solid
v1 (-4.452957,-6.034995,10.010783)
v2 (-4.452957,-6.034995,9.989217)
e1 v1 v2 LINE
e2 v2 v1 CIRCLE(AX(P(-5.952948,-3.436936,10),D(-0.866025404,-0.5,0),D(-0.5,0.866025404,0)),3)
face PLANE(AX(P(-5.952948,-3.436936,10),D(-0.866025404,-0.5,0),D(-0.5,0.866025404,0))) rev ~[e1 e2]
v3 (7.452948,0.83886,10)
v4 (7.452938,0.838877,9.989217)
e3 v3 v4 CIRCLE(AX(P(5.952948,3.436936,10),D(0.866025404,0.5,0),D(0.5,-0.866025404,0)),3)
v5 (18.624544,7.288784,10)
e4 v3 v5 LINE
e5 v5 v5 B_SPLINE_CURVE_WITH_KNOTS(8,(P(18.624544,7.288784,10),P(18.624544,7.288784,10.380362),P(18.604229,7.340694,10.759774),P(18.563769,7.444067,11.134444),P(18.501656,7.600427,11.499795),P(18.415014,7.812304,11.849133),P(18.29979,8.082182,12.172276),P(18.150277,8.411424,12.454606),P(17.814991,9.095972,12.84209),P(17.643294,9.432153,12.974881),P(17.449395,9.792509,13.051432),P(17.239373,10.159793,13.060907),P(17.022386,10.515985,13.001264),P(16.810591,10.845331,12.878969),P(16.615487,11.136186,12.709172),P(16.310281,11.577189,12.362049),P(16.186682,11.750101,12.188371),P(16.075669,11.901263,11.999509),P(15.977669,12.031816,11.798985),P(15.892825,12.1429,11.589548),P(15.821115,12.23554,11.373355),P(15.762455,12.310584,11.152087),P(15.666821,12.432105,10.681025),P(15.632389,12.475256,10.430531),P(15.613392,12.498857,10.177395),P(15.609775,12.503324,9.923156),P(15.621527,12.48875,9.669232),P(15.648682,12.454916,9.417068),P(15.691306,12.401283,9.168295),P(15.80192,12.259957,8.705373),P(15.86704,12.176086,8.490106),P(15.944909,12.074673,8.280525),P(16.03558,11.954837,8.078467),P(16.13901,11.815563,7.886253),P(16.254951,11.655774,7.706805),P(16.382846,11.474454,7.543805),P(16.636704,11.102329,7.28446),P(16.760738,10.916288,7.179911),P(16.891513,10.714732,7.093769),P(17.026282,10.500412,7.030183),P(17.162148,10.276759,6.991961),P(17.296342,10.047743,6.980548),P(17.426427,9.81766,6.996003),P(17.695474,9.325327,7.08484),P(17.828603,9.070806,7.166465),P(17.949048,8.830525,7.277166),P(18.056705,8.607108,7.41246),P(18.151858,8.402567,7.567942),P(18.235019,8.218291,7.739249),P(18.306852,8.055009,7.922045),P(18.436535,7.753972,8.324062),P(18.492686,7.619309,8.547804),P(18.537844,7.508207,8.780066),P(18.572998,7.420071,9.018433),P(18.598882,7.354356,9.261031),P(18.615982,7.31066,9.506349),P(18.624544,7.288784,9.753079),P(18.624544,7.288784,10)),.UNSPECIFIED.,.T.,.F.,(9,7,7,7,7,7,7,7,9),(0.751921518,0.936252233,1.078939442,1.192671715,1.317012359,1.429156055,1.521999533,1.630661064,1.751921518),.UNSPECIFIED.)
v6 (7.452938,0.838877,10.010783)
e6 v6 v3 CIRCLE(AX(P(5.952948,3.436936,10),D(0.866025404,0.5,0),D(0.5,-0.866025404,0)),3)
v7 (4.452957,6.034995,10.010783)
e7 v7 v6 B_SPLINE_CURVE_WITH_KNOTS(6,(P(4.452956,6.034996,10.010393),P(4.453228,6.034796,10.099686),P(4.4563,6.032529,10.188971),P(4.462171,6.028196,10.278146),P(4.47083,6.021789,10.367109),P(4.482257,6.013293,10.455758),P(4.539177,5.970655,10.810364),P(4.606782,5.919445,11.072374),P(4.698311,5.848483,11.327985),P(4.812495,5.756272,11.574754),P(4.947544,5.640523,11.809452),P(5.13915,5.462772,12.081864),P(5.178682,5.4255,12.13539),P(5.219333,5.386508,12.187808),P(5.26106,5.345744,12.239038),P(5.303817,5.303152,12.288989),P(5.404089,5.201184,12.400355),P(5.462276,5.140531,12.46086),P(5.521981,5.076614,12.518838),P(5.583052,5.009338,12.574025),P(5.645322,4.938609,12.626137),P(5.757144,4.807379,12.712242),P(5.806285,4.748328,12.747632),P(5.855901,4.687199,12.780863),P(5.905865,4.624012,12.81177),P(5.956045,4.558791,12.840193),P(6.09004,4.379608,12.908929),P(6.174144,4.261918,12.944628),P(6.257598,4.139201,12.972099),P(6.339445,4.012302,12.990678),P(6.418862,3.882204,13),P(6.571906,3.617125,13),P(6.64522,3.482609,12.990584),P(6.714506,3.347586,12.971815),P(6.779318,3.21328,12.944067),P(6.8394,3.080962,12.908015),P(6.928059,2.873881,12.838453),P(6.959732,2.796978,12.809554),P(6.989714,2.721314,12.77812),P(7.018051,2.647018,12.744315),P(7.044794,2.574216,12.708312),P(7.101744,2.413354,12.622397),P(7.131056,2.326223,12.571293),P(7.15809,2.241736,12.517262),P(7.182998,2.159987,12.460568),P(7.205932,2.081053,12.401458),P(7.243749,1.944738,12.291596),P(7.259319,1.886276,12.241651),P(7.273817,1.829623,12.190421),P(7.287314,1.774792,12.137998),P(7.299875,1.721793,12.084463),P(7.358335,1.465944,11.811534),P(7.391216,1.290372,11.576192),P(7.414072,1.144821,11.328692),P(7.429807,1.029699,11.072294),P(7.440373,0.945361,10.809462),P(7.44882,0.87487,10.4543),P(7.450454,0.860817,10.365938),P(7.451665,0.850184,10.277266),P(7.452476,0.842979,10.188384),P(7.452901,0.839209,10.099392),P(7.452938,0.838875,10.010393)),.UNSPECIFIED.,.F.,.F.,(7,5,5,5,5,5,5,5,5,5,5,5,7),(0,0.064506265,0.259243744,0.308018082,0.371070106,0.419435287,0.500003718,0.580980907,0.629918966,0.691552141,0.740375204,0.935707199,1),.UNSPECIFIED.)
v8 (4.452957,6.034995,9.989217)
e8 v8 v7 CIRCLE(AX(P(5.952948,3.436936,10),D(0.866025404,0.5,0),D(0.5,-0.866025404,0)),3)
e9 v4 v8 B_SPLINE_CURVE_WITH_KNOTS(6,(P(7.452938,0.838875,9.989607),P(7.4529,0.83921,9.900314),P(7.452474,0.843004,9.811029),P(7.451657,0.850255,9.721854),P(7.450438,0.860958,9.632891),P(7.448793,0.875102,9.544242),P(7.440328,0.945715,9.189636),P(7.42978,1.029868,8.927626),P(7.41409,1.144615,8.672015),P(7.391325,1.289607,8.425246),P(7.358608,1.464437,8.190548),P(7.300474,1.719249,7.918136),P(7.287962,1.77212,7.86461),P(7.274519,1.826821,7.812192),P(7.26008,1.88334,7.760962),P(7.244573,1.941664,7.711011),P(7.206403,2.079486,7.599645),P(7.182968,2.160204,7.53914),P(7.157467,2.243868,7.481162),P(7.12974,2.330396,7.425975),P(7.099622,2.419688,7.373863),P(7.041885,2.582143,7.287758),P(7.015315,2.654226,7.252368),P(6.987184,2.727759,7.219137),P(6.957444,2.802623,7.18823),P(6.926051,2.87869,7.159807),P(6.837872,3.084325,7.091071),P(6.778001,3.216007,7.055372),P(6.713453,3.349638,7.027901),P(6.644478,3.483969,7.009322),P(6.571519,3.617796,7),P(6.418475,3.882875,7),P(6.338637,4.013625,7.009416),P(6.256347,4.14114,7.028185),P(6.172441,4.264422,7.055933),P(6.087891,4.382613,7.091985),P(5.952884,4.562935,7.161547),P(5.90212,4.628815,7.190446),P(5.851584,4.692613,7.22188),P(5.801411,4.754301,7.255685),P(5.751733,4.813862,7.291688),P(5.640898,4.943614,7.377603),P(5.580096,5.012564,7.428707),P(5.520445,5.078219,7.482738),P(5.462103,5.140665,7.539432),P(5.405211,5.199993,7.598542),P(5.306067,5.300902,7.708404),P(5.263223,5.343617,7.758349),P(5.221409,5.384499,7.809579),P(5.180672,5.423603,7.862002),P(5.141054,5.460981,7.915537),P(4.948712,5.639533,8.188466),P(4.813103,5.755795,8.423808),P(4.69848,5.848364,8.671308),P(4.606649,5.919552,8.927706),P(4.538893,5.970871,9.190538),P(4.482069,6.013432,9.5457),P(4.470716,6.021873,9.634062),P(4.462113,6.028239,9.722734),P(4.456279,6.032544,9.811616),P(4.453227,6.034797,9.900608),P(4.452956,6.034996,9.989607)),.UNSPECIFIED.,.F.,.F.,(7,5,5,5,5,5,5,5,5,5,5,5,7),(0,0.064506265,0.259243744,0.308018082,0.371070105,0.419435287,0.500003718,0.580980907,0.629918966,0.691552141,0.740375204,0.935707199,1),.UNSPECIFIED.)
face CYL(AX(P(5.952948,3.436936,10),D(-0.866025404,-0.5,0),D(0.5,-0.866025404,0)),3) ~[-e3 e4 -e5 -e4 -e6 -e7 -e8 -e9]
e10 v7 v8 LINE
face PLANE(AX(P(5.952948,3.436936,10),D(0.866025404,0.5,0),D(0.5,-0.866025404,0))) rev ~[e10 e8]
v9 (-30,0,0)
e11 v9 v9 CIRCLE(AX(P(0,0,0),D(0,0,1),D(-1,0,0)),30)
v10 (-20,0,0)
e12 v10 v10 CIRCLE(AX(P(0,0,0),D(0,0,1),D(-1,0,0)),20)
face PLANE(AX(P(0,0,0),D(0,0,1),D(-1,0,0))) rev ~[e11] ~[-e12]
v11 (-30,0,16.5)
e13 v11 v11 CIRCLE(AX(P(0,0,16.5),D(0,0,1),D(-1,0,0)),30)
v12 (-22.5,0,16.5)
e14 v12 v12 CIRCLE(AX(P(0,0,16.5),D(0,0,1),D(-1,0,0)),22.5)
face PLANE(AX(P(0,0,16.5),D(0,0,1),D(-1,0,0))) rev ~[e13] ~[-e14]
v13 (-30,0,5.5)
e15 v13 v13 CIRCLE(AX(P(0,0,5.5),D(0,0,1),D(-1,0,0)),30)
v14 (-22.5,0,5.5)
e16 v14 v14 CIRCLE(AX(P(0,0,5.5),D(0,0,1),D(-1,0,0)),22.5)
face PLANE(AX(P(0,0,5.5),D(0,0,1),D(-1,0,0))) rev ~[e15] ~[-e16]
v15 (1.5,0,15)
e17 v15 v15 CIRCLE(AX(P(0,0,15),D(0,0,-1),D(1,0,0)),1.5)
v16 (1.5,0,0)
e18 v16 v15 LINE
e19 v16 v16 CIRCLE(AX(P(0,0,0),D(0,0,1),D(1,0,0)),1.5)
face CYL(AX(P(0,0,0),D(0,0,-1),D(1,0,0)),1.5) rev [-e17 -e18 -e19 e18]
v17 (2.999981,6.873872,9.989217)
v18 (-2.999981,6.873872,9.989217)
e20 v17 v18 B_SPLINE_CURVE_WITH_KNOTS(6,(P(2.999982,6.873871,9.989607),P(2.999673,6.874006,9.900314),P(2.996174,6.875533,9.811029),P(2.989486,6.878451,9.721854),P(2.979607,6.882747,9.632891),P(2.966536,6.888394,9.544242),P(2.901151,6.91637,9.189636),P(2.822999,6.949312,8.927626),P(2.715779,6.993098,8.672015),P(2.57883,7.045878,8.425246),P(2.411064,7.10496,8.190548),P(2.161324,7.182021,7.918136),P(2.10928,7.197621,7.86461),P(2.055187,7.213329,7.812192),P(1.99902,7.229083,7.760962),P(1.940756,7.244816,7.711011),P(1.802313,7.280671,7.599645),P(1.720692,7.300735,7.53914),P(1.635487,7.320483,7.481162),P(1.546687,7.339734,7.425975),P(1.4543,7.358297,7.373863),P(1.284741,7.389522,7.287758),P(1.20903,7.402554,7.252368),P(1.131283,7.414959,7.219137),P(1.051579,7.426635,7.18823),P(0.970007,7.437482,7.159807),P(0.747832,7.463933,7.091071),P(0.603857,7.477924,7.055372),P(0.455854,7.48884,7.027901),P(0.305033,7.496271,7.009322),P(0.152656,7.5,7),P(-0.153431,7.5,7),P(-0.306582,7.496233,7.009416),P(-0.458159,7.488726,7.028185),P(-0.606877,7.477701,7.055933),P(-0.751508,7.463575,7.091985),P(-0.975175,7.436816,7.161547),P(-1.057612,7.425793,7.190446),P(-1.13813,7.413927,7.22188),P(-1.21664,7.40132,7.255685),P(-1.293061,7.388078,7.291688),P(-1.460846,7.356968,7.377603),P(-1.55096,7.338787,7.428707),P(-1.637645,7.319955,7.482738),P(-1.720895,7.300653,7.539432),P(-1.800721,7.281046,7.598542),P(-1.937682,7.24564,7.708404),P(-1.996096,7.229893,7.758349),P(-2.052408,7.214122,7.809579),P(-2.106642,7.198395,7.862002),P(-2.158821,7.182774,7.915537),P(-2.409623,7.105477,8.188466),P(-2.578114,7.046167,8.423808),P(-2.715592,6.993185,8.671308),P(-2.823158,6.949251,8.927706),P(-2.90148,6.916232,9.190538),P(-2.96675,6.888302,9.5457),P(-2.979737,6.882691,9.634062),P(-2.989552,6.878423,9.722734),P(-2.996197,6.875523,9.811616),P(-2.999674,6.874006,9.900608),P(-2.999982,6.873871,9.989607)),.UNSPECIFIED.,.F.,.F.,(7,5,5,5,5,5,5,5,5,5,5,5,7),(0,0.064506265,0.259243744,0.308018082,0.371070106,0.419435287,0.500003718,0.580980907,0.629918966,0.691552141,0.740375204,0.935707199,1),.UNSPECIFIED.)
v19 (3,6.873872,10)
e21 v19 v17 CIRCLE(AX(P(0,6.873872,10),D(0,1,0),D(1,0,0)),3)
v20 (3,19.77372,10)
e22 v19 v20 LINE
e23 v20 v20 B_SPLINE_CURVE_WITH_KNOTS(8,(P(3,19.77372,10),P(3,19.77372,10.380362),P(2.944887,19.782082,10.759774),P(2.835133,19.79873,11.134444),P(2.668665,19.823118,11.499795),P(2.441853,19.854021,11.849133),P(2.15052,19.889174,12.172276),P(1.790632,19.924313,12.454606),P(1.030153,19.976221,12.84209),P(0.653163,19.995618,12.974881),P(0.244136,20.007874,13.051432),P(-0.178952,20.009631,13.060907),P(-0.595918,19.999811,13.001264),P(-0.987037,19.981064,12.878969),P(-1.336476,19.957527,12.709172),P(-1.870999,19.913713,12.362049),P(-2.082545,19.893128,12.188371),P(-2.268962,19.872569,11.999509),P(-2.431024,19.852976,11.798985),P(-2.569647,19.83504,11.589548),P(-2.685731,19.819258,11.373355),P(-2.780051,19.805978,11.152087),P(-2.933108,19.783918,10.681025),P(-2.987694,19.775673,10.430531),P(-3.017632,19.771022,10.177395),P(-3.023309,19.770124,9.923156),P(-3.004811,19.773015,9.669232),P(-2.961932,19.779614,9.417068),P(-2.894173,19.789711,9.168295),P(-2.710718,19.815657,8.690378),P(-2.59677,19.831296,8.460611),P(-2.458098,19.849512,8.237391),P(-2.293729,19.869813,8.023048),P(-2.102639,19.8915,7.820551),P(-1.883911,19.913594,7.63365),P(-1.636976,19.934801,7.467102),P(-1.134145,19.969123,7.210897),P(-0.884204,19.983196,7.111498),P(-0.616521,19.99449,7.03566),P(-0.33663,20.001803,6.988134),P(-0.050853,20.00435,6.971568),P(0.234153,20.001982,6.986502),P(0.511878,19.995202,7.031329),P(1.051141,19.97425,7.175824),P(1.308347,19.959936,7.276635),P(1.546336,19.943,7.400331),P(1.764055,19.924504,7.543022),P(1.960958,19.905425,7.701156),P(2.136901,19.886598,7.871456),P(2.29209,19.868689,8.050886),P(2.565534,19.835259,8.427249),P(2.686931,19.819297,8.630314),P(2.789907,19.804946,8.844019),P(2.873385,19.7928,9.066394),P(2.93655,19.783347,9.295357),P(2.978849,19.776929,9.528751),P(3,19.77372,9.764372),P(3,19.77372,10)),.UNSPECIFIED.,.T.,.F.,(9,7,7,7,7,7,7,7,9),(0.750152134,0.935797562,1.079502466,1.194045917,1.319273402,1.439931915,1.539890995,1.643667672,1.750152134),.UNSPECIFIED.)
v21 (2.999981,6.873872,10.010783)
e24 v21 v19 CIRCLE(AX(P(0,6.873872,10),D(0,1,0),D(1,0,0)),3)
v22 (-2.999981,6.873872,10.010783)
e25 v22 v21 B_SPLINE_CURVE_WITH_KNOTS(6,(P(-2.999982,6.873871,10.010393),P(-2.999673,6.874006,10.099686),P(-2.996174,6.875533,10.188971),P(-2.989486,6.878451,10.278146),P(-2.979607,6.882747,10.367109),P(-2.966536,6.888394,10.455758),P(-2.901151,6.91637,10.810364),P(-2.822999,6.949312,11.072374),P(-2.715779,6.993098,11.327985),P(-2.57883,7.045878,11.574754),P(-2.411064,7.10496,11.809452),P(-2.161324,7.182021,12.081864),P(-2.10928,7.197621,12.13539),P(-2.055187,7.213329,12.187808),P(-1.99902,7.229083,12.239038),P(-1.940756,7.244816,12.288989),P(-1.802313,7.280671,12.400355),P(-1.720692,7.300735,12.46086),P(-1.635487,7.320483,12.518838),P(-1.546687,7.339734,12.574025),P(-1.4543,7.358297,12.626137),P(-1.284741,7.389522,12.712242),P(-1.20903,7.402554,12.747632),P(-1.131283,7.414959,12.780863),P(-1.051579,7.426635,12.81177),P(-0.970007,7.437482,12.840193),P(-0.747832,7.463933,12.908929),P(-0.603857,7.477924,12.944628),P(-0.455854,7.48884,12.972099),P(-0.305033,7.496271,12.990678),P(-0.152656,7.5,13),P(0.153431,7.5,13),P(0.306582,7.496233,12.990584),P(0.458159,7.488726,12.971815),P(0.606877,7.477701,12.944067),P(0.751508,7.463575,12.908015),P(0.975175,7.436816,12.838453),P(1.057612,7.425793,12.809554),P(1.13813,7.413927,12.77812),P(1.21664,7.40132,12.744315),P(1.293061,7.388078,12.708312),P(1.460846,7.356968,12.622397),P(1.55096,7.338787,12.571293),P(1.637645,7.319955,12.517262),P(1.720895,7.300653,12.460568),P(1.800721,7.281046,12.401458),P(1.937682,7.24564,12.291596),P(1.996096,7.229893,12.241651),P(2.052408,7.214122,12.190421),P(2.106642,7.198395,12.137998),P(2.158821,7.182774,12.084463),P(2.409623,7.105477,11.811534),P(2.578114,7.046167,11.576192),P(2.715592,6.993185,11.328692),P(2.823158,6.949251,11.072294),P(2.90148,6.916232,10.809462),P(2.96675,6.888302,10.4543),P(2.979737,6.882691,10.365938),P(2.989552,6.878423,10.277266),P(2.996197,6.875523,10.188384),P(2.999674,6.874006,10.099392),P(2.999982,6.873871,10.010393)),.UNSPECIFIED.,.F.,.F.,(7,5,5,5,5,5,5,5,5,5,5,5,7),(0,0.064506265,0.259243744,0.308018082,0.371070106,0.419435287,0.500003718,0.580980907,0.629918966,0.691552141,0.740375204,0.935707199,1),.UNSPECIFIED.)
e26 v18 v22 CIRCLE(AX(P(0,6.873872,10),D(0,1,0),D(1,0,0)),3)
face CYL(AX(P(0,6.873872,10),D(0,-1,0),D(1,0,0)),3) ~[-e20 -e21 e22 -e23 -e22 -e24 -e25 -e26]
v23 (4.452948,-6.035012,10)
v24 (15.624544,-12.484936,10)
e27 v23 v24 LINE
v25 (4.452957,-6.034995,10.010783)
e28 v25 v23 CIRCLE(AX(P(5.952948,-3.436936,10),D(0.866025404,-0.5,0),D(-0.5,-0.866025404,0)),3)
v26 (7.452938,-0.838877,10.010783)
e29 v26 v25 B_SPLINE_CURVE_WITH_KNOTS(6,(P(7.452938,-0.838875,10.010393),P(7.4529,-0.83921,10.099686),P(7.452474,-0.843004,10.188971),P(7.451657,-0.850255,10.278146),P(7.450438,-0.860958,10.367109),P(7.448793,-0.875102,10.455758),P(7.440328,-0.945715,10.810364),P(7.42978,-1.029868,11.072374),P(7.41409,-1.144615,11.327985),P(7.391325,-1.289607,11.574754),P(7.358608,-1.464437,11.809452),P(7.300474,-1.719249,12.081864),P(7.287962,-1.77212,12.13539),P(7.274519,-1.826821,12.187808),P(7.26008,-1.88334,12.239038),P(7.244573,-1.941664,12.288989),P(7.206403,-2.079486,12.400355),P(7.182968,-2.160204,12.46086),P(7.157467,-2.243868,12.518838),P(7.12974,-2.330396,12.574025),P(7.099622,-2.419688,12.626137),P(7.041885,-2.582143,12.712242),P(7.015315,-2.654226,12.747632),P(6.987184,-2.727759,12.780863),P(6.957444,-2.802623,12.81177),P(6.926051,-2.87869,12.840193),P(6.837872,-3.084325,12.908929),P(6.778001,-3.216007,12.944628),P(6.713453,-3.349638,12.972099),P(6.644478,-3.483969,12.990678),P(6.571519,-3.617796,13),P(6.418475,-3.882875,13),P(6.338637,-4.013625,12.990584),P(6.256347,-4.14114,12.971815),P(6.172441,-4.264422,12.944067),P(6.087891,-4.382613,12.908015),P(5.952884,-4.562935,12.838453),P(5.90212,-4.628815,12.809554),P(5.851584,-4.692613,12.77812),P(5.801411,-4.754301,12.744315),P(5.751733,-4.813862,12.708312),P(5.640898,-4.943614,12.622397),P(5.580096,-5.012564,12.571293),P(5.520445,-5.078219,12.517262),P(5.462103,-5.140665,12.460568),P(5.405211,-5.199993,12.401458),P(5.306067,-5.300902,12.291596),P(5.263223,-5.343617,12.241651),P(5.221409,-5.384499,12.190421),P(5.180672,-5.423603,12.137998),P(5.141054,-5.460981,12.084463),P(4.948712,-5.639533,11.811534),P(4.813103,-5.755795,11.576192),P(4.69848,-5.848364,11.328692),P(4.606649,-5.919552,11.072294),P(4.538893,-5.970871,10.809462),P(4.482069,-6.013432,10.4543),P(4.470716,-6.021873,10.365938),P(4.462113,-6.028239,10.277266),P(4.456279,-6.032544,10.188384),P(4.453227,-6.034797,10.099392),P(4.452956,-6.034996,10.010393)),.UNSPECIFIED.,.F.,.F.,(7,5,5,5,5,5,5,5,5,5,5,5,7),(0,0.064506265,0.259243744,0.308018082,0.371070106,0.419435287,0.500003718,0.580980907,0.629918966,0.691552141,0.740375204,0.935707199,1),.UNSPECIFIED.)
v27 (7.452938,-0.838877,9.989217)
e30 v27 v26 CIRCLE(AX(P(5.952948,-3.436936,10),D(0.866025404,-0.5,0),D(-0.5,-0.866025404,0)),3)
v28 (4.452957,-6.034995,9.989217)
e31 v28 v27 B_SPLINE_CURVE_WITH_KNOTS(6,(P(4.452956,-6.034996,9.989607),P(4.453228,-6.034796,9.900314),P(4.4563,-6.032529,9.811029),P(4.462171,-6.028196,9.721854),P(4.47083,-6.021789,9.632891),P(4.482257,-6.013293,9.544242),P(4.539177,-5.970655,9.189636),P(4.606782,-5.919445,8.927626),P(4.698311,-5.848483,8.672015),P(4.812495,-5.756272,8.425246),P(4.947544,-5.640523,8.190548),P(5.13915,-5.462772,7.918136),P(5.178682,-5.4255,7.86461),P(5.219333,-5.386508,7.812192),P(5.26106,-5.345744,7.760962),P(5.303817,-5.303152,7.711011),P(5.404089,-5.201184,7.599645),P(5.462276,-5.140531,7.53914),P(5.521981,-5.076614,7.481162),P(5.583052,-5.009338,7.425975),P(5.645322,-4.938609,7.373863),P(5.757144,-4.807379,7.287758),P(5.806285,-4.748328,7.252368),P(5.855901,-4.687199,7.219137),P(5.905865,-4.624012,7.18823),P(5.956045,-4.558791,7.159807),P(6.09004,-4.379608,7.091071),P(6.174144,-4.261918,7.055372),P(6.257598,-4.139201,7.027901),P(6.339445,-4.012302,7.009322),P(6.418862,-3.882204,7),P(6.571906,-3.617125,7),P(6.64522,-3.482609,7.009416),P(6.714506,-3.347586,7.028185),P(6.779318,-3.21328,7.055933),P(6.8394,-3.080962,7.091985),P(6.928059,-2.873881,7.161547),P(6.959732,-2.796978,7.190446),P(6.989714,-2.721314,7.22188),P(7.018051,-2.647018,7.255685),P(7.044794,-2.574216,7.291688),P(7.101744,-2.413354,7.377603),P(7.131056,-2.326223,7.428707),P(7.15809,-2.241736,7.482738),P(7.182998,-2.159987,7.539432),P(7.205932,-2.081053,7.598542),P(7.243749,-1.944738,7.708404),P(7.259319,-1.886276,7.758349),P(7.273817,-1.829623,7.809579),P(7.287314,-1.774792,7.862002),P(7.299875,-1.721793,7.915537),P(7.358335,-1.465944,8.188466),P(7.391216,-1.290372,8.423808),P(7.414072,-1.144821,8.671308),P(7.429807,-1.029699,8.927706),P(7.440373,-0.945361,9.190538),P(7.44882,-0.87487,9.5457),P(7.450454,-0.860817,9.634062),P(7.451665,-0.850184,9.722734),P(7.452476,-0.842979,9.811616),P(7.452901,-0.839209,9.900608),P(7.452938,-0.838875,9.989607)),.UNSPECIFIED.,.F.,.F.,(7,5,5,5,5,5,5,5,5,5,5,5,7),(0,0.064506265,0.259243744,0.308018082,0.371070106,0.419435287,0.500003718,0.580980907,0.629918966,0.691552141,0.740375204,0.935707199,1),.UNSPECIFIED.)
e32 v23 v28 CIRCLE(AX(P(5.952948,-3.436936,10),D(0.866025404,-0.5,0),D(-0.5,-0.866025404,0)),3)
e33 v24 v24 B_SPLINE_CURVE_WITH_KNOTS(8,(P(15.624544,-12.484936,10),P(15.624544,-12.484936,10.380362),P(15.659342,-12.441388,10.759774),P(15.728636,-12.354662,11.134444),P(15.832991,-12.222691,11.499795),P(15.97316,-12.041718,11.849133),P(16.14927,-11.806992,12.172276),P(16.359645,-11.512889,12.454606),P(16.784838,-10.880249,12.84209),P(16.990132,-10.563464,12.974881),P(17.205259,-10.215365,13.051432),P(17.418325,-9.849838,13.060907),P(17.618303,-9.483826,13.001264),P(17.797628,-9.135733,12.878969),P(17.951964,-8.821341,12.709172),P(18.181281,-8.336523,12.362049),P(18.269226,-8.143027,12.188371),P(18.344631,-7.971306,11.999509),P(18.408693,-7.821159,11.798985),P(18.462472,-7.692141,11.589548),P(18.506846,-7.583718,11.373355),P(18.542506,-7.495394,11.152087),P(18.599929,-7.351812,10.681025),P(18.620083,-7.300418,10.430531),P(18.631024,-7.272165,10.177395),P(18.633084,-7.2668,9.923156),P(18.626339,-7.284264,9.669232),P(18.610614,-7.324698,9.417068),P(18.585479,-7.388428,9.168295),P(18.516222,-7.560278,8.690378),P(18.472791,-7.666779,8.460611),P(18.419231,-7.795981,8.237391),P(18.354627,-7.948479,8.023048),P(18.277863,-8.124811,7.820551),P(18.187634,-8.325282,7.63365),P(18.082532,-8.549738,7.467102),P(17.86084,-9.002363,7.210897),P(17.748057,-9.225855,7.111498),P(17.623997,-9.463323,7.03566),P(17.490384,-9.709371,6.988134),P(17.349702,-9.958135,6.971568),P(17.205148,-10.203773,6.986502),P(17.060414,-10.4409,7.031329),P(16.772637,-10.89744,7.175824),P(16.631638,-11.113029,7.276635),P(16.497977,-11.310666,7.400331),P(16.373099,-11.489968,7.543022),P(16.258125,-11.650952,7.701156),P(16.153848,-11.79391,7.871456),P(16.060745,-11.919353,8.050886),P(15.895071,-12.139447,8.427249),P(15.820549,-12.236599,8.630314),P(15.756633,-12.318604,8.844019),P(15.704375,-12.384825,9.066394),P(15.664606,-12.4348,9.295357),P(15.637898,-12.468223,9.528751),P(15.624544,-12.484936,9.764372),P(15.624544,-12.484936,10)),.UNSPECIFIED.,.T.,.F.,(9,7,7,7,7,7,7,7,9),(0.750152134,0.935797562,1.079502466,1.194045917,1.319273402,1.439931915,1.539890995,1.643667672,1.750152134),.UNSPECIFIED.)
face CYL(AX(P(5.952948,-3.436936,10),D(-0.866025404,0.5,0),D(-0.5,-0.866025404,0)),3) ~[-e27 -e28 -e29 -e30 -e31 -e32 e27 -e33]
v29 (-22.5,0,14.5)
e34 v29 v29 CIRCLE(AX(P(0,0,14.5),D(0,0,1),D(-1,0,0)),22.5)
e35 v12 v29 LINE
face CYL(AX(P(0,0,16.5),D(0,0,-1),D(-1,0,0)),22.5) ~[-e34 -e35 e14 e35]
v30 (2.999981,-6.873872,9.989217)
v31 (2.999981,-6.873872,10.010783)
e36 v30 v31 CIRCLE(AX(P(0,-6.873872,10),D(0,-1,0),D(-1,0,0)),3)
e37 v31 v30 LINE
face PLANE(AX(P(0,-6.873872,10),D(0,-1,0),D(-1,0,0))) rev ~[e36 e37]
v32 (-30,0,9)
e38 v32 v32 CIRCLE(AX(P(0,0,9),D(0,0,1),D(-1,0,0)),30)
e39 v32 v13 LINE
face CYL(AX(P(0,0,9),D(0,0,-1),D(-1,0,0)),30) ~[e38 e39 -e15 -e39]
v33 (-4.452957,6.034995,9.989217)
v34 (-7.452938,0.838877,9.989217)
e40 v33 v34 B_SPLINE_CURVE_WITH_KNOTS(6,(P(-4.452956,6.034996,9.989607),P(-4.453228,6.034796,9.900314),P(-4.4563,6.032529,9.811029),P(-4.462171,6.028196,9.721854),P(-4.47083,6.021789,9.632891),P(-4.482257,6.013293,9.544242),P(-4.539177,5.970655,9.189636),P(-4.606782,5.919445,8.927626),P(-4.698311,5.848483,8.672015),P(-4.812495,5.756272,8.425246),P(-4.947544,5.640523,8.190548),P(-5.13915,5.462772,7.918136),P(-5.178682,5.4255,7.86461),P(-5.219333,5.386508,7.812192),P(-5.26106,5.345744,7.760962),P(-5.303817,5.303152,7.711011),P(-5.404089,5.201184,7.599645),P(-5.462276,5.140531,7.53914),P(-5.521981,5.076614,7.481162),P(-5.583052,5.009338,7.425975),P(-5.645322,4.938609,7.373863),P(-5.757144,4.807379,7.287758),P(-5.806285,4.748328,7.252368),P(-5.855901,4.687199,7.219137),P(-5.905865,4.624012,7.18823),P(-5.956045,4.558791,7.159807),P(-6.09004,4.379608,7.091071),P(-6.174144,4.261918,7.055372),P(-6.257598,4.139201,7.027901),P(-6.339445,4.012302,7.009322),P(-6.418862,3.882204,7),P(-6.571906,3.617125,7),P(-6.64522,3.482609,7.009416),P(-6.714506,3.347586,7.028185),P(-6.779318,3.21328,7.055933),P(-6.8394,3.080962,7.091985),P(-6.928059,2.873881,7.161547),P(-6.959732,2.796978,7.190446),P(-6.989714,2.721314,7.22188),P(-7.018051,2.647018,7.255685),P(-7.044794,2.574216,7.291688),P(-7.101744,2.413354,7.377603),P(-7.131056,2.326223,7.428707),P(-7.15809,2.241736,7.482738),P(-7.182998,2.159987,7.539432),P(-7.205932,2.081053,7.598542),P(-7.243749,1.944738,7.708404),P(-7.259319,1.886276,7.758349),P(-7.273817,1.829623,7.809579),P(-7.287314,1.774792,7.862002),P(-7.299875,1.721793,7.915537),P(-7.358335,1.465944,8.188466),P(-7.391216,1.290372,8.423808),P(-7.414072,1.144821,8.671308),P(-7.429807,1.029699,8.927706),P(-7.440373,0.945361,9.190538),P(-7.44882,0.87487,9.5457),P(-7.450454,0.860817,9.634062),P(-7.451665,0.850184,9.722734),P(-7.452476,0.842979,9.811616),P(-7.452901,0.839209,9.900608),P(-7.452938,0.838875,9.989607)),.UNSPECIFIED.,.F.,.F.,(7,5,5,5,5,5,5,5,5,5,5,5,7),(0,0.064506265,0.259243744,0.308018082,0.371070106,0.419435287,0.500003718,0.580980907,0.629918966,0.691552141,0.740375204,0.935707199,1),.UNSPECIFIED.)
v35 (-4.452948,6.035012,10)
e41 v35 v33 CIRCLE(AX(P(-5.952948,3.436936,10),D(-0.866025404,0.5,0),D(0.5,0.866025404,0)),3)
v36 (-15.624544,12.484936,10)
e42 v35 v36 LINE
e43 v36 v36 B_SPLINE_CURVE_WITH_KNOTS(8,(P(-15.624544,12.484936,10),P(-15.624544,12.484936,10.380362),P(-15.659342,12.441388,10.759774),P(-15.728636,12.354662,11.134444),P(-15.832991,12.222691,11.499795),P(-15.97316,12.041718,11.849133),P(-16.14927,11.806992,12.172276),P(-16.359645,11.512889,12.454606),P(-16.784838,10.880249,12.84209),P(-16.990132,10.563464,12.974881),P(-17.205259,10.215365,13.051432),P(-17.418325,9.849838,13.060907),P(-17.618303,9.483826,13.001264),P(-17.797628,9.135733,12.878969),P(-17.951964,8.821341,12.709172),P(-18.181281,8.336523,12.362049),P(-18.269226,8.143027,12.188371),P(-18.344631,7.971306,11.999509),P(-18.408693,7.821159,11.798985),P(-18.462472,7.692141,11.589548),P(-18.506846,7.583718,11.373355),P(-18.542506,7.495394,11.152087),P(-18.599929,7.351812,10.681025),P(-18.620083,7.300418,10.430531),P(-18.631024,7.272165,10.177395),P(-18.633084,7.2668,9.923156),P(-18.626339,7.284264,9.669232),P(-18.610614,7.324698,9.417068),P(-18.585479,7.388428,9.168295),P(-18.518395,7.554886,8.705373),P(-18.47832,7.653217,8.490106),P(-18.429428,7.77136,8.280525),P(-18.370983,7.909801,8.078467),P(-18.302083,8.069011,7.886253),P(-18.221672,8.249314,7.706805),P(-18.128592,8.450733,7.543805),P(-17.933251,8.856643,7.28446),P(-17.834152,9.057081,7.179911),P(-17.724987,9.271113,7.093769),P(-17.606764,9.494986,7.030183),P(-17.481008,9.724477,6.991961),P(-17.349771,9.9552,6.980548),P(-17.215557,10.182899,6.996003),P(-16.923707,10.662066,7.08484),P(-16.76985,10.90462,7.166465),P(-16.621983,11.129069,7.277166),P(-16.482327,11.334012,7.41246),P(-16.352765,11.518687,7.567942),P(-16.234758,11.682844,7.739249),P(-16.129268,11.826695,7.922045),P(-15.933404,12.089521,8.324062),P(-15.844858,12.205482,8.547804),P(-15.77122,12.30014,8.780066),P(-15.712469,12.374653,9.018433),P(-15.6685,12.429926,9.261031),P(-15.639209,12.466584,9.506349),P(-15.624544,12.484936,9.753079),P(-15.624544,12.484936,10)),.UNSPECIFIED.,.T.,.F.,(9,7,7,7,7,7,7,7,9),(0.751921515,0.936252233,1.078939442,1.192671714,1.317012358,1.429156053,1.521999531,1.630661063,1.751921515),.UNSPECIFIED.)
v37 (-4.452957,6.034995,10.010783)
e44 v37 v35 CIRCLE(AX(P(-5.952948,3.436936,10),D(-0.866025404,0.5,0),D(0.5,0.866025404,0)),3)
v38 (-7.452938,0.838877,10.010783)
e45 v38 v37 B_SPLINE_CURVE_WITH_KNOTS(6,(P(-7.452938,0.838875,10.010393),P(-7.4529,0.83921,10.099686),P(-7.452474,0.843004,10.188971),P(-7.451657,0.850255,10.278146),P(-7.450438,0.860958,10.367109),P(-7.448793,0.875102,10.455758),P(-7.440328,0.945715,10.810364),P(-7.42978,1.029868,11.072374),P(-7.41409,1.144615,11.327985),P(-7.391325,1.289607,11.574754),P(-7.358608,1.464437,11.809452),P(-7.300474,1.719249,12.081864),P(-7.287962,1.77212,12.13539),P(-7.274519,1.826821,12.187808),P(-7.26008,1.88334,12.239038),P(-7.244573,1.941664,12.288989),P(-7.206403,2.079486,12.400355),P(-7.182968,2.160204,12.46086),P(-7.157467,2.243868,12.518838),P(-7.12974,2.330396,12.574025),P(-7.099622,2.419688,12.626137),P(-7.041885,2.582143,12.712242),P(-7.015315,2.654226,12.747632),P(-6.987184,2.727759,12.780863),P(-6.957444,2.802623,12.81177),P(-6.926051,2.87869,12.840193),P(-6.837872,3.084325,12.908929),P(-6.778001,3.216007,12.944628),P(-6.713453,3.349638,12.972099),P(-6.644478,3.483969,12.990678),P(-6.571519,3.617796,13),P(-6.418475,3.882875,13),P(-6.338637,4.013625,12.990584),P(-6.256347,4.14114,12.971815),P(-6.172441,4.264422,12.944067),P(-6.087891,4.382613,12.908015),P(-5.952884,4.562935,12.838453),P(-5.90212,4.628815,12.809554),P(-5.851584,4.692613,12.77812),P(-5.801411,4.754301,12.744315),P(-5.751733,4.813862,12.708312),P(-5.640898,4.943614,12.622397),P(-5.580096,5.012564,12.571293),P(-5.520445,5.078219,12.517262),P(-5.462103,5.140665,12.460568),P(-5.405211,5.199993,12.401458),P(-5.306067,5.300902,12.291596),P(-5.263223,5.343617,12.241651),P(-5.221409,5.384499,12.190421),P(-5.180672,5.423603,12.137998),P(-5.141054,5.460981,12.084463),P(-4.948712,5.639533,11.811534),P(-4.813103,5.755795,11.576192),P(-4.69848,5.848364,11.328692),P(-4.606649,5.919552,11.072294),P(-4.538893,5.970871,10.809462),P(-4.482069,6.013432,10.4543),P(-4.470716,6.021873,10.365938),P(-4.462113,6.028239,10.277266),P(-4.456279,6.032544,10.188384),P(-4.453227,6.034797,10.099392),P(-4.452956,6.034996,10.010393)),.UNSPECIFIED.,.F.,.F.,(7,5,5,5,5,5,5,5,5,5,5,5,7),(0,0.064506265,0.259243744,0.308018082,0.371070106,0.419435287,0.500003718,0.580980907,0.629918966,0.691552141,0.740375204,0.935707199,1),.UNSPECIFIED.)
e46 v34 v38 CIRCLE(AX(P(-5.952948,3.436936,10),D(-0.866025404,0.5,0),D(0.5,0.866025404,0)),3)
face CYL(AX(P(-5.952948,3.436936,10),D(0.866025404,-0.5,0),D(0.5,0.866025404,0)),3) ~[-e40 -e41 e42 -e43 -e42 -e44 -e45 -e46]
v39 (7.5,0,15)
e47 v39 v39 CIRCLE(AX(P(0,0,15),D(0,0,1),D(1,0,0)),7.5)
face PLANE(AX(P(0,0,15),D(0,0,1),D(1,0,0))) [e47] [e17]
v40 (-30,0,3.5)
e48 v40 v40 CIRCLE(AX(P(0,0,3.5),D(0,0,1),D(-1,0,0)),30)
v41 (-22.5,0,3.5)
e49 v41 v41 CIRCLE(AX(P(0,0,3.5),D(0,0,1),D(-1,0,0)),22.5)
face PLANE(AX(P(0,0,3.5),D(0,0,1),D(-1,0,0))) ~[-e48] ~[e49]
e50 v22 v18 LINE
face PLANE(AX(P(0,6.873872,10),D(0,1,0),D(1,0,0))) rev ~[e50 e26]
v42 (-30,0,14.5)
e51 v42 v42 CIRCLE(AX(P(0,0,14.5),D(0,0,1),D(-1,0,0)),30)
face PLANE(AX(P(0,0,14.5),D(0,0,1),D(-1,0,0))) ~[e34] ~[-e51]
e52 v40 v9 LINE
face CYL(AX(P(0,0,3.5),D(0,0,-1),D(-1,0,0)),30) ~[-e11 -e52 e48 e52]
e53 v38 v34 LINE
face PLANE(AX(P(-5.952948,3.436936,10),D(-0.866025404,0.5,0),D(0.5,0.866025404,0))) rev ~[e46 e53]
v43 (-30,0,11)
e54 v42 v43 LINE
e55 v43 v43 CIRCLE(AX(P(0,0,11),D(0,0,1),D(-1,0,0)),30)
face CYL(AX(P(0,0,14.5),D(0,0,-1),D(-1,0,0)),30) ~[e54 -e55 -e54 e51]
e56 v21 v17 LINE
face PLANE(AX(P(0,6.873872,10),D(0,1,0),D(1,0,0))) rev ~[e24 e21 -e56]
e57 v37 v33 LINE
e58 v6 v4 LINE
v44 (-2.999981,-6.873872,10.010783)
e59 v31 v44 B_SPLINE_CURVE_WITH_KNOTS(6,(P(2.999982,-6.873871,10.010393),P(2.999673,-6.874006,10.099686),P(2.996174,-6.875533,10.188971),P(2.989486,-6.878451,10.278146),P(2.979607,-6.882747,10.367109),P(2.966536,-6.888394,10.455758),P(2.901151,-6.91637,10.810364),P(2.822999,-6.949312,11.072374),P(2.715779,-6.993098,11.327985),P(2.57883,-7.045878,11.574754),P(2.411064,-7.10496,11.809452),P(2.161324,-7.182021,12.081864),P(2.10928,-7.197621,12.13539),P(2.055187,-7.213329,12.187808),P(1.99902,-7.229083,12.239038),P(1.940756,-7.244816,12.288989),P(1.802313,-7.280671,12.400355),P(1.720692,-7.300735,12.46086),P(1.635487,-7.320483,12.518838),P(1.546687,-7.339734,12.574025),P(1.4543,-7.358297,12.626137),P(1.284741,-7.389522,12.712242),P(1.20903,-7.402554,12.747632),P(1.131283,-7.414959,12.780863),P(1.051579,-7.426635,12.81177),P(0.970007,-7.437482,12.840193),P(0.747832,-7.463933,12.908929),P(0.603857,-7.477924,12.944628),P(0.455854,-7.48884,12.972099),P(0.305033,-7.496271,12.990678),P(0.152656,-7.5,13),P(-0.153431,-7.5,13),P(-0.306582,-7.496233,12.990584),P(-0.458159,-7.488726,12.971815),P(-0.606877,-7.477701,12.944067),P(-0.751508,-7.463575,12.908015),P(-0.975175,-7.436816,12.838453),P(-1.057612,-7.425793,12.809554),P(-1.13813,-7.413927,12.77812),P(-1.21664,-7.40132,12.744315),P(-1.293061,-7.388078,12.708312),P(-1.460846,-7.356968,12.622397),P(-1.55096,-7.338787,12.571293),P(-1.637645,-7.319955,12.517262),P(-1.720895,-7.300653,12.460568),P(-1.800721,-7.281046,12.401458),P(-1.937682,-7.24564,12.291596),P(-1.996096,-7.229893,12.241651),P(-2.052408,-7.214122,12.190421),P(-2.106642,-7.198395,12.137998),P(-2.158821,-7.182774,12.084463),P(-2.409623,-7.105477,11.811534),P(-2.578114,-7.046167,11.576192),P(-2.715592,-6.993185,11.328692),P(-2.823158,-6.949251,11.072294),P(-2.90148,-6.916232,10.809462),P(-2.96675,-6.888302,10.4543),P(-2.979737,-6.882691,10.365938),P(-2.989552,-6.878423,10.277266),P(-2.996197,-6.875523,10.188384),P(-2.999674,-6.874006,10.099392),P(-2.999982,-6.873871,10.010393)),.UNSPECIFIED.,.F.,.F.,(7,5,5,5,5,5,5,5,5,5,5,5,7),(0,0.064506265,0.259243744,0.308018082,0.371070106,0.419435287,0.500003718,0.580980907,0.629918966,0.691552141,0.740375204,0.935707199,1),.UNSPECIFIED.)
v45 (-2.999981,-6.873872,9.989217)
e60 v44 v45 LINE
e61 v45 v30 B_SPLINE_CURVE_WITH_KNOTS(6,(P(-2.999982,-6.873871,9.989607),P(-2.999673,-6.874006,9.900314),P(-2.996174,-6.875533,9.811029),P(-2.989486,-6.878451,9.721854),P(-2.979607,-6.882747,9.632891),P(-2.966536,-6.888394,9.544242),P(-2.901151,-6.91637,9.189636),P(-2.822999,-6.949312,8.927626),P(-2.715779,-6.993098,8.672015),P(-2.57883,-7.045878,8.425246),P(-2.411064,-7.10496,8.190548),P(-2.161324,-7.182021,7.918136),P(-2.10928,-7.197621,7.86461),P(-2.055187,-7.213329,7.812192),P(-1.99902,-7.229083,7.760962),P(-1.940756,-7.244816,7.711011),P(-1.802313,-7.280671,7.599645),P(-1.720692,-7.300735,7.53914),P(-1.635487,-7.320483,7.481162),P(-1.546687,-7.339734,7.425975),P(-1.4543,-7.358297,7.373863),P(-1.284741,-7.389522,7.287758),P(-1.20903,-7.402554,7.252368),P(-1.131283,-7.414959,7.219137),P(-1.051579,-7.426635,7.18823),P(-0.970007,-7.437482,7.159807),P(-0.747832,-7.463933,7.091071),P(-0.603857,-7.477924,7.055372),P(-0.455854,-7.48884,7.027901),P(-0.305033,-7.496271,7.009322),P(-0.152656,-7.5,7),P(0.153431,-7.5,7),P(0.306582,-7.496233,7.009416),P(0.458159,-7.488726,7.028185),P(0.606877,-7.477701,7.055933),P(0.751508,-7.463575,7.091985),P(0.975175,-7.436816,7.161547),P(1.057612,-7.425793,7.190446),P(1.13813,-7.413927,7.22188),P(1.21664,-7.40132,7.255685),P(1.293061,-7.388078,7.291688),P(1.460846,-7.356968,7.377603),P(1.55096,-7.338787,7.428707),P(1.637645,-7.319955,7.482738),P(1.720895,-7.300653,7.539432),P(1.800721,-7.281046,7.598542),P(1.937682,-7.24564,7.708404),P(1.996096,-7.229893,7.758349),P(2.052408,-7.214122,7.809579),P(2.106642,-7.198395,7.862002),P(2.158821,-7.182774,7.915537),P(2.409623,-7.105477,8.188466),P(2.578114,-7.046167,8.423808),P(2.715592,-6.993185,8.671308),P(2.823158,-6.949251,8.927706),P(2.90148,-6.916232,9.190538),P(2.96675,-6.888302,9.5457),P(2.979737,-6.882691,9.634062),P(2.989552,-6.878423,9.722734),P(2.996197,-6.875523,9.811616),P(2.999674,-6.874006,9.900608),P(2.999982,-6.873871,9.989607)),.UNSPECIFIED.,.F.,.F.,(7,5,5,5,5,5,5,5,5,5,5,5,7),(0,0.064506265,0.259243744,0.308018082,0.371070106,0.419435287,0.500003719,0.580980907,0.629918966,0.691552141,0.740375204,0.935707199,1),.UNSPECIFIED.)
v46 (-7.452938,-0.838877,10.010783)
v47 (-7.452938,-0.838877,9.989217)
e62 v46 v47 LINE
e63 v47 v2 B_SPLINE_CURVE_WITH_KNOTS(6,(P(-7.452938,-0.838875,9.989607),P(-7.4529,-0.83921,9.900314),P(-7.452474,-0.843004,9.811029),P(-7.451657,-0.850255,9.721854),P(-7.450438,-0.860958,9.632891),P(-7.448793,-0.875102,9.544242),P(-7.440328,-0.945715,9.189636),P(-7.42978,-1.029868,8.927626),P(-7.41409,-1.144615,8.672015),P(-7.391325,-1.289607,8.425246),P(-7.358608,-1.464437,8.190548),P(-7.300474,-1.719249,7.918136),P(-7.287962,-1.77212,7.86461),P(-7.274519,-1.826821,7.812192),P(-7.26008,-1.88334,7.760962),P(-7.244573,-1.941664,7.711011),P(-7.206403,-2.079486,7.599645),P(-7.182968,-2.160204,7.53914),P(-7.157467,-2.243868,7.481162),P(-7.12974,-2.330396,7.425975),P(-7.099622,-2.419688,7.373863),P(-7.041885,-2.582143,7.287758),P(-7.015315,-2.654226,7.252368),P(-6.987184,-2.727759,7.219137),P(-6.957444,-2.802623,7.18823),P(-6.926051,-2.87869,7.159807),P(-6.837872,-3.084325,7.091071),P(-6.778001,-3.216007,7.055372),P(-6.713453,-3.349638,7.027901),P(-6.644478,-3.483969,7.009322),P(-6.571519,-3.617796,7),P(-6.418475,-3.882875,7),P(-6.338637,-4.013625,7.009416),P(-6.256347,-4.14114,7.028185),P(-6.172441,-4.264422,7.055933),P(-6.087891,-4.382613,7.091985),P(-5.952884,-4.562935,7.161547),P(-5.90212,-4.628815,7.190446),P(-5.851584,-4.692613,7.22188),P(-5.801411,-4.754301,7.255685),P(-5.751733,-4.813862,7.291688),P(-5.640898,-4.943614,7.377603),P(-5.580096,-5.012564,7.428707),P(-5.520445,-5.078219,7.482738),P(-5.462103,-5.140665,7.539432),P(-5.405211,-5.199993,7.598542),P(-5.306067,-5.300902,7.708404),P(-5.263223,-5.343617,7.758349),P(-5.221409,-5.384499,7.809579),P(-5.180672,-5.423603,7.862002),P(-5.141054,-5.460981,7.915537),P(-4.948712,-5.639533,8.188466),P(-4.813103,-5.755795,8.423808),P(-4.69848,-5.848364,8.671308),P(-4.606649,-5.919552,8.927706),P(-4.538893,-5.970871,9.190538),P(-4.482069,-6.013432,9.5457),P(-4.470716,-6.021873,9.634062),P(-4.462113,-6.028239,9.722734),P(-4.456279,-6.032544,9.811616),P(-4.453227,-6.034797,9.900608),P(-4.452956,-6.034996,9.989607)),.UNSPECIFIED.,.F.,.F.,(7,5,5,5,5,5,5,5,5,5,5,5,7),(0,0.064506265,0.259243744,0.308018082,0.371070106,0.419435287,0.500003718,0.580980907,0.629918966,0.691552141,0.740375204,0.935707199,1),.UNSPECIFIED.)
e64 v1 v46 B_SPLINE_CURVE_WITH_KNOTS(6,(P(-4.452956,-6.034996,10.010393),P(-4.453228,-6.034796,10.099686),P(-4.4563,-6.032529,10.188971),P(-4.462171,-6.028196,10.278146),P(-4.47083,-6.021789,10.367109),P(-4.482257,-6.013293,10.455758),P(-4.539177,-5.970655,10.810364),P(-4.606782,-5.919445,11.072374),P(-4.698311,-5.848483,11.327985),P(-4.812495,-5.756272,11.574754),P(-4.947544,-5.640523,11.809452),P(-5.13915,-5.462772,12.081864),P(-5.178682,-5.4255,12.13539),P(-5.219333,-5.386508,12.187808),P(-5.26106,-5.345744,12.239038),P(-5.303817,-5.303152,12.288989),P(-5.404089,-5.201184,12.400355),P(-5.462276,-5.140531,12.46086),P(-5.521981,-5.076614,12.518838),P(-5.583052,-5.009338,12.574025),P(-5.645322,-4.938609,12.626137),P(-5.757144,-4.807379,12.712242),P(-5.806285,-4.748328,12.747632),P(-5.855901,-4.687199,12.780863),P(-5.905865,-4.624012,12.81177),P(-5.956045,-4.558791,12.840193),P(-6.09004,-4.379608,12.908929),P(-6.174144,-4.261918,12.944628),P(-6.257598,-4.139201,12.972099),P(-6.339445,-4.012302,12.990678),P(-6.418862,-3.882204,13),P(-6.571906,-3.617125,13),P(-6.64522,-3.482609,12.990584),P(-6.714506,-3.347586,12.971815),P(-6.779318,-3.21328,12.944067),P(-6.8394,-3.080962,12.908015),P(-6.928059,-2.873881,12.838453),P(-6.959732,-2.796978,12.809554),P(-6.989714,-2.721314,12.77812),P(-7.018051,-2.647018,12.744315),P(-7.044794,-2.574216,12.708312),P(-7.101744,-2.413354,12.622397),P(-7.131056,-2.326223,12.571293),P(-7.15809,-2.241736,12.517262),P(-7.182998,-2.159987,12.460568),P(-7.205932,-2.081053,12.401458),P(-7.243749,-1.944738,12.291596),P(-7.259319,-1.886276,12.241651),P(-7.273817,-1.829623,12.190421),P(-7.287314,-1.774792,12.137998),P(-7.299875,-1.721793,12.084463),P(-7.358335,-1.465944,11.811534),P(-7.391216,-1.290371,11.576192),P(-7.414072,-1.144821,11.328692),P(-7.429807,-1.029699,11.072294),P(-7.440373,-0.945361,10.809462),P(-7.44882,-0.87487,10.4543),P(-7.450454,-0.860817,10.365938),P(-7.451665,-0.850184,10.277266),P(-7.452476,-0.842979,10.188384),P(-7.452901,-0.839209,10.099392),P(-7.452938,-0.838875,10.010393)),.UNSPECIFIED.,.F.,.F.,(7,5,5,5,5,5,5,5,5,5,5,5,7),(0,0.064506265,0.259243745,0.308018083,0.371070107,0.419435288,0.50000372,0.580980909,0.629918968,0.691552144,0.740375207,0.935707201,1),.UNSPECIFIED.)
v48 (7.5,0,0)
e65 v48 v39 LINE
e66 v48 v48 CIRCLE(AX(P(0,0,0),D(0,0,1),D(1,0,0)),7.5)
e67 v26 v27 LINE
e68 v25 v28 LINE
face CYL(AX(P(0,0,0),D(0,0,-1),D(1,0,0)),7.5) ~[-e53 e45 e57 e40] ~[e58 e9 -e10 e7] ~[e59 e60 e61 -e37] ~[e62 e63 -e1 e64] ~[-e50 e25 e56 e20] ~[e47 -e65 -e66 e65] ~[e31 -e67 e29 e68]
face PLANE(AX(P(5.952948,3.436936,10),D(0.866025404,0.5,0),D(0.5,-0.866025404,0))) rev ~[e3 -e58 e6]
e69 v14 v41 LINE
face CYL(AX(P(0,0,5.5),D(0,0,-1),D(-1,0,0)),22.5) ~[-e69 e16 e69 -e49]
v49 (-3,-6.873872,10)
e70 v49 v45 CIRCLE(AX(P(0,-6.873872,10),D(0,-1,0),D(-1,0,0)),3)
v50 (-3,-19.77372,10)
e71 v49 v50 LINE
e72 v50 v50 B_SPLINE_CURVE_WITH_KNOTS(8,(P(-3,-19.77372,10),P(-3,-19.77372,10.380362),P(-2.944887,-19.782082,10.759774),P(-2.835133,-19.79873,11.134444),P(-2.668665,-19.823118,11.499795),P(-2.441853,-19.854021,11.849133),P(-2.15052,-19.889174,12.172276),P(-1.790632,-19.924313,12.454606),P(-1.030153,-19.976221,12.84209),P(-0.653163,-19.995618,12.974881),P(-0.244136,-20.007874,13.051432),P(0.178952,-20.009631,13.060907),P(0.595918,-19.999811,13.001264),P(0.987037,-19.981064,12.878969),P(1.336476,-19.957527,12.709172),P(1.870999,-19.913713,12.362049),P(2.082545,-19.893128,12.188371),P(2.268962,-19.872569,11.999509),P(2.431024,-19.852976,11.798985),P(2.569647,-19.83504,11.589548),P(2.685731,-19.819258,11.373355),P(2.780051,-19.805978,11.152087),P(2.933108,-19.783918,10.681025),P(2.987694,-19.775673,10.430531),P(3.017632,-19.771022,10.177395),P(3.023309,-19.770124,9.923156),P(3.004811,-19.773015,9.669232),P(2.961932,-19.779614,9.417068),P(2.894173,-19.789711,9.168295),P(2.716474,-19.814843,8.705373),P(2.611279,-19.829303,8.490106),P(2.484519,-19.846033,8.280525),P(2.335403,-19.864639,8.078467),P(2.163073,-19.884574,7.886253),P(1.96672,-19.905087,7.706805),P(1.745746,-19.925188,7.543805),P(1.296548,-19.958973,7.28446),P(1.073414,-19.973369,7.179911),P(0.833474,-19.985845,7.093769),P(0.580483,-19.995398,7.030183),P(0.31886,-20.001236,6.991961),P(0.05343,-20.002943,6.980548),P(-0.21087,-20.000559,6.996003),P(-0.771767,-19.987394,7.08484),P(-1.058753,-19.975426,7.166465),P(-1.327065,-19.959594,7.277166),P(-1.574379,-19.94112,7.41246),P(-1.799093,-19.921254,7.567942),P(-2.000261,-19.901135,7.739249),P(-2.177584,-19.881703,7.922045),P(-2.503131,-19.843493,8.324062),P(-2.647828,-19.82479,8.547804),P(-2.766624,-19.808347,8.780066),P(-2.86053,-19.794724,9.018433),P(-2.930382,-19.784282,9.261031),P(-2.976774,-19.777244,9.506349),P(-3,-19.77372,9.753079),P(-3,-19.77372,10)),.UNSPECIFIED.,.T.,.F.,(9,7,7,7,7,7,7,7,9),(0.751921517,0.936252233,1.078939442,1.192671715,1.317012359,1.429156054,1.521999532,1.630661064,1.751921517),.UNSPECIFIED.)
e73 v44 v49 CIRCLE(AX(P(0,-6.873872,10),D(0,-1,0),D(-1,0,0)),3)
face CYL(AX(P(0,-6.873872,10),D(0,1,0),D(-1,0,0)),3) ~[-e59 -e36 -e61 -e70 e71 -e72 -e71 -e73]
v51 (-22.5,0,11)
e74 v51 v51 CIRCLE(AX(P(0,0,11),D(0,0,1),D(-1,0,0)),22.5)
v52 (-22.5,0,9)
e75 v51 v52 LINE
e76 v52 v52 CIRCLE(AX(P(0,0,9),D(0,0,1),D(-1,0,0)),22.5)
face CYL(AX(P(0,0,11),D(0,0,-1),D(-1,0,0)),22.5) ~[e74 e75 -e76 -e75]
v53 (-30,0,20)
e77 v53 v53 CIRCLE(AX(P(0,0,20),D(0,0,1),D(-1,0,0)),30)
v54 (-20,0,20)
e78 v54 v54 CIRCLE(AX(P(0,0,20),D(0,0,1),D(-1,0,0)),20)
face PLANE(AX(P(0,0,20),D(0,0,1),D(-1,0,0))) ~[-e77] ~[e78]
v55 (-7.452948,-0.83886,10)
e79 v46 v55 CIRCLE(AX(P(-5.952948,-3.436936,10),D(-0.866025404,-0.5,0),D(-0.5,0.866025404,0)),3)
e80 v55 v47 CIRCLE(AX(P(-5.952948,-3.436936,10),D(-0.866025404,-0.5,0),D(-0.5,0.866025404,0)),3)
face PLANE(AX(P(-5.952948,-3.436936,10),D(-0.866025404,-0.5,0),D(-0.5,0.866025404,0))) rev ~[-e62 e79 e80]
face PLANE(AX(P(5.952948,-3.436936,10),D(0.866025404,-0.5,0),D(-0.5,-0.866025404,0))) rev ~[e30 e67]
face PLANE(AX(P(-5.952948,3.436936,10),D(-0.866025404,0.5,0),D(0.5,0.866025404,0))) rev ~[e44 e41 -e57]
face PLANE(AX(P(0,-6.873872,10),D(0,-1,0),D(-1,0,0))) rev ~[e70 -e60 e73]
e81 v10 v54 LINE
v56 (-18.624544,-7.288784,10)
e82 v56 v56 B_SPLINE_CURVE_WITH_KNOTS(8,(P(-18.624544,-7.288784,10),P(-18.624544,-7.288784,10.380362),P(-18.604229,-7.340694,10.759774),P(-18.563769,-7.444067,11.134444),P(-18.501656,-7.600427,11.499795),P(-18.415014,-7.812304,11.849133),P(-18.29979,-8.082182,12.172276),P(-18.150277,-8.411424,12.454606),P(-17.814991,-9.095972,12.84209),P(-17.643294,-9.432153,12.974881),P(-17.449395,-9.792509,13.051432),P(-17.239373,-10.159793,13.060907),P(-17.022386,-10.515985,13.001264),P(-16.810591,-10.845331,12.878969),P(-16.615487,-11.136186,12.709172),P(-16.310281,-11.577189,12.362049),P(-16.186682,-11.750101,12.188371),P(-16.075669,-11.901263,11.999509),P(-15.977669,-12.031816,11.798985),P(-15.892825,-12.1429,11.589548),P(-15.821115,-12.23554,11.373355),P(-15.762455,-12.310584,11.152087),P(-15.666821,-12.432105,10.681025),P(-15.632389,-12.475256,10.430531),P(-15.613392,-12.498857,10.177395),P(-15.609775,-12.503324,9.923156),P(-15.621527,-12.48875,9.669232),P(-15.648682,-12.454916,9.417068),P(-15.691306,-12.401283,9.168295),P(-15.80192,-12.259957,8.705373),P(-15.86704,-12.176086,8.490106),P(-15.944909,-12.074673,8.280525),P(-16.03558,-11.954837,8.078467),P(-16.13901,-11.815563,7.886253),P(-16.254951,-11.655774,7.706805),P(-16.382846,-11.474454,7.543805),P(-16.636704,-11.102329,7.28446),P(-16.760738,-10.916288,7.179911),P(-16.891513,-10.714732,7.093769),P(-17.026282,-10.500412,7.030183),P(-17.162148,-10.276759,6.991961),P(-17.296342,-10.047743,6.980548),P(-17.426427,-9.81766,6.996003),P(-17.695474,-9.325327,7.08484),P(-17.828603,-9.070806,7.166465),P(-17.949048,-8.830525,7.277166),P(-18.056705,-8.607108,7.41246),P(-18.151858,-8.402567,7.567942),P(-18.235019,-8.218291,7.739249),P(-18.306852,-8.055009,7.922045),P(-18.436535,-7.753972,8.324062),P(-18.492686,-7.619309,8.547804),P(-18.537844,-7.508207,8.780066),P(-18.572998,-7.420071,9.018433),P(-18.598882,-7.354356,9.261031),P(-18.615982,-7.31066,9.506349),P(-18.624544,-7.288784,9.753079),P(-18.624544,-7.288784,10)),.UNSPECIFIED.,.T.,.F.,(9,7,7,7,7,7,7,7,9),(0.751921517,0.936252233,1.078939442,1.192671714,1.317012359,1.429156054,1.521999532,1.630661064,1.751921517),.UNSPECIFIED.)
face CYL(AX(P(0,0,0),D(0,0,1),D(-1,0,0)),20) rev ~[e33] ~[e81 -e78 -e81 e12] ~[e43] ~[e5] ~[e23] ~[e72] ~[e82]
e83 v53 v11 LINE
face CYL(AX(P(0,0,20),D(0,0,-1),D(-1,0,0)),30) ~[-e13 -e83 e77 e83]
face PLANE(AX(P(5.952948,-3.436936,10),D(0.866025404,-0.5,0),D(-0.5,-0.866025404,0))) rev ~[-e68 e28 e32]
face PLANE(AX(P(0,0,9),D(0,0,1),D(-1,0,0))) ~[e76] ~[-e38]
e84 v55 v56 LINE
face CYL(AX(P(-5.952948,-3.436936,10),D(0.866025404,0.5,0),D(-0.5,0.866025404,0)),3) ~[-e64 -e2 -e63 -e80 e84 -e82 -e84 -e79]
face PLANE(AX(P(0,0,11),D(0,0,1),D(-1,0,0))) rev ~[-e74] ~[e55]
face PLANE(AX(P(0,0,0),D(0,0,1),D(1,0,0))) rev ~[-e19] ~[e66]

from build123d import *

# Parameters (mm, degrees)
SKETCH_1_R               = 7.5
SKETCH_1_R_2             = 1.5
EXTRUDE_1_DEPTH          = 20
EXTRUDE_START            = -5.126128
SKETCH_5_R               = 3
EXTRUDE_3_DEPTH          = 13.126128
PATTERN_CIRCULAR_1_COUNT = 6
SKETCH_6_R               = 7.5
CUT_EXTRUDE_1_DEPTH      = 5


with BuildPart() as part:
    # 草圖1 → 填料-伸長1 (new body)
    with BuildSketch(Plane.XY):
        Circle(SKETCH_1_R)
        Circle(SKETCH_1_R_2, mode=Mode.SUBTRACT)
    extrude(amount=EXTRUDE_1_DEPTH)



with BuildPart() as body_2:
    # 草圖2 → 旋轉2 (revolve)
    with BuildSketch(Plane(origin=(0, 0, 0), x_dir=(1, 0, 0), z_dir=(0, 1, 0))):
        Polygon((-30, 0), (-20, 0), (-20, -20), (-30, -20), (-30, -16.5), (-22.5, -16.5), (-22.5, -14.5), (-30, -14.5), (-30, -11), (-22.5, -11), (-22.5, -9), (-30, -9), (-30, -5.5), (-22.5, -5.5), (-22.5, -3.5), (-30, -3.5), align=None)
    revolve(axis=Axis((0, 0, -16.060558383), (0, 0, 1)))


with BuildPart() as part_1:
    add(part.part)

    add(body_2.part)  # 填料-伸長3 merges body 2
    # 草圖5 → 填料-伸長3 (add)
    with BuildSketch(Plane(origin=(0, 12, 0), x_dir=(1, 0, 0), z_dir=(0, 1, 0)).offset(EXTRUDE_START)):
        with Locations((0, -10)):
            Circle(SKETCH_5_R)
    extrude_3 = extrude(amount=EXTRUDE_3_DEPTH)

    # 環狀複製排列1: 填料-伸長3 ×6 about axis
    pattern_circular_1_axis = Axis((0, 0, 20), (0, 0, -1))
    for i in range(1, PATTERN_CIRCULAR_1_COUNT):
        add(extrude_3.rotate(pattern_circular_1_axis, i * 360 / PATTERN_CIRCULAR_1_COUNT))

    # 草圖6 → 除料-伸長1 (cut)
    with BuildSketch(Plane.XY.offset(20)):
        Circle(SKETCH_6_R)
    extrude(amount=-CUT_EXTRUDE_1_DEPTH, mode=Mode.SUBTRACT)


solid = part_1.part
